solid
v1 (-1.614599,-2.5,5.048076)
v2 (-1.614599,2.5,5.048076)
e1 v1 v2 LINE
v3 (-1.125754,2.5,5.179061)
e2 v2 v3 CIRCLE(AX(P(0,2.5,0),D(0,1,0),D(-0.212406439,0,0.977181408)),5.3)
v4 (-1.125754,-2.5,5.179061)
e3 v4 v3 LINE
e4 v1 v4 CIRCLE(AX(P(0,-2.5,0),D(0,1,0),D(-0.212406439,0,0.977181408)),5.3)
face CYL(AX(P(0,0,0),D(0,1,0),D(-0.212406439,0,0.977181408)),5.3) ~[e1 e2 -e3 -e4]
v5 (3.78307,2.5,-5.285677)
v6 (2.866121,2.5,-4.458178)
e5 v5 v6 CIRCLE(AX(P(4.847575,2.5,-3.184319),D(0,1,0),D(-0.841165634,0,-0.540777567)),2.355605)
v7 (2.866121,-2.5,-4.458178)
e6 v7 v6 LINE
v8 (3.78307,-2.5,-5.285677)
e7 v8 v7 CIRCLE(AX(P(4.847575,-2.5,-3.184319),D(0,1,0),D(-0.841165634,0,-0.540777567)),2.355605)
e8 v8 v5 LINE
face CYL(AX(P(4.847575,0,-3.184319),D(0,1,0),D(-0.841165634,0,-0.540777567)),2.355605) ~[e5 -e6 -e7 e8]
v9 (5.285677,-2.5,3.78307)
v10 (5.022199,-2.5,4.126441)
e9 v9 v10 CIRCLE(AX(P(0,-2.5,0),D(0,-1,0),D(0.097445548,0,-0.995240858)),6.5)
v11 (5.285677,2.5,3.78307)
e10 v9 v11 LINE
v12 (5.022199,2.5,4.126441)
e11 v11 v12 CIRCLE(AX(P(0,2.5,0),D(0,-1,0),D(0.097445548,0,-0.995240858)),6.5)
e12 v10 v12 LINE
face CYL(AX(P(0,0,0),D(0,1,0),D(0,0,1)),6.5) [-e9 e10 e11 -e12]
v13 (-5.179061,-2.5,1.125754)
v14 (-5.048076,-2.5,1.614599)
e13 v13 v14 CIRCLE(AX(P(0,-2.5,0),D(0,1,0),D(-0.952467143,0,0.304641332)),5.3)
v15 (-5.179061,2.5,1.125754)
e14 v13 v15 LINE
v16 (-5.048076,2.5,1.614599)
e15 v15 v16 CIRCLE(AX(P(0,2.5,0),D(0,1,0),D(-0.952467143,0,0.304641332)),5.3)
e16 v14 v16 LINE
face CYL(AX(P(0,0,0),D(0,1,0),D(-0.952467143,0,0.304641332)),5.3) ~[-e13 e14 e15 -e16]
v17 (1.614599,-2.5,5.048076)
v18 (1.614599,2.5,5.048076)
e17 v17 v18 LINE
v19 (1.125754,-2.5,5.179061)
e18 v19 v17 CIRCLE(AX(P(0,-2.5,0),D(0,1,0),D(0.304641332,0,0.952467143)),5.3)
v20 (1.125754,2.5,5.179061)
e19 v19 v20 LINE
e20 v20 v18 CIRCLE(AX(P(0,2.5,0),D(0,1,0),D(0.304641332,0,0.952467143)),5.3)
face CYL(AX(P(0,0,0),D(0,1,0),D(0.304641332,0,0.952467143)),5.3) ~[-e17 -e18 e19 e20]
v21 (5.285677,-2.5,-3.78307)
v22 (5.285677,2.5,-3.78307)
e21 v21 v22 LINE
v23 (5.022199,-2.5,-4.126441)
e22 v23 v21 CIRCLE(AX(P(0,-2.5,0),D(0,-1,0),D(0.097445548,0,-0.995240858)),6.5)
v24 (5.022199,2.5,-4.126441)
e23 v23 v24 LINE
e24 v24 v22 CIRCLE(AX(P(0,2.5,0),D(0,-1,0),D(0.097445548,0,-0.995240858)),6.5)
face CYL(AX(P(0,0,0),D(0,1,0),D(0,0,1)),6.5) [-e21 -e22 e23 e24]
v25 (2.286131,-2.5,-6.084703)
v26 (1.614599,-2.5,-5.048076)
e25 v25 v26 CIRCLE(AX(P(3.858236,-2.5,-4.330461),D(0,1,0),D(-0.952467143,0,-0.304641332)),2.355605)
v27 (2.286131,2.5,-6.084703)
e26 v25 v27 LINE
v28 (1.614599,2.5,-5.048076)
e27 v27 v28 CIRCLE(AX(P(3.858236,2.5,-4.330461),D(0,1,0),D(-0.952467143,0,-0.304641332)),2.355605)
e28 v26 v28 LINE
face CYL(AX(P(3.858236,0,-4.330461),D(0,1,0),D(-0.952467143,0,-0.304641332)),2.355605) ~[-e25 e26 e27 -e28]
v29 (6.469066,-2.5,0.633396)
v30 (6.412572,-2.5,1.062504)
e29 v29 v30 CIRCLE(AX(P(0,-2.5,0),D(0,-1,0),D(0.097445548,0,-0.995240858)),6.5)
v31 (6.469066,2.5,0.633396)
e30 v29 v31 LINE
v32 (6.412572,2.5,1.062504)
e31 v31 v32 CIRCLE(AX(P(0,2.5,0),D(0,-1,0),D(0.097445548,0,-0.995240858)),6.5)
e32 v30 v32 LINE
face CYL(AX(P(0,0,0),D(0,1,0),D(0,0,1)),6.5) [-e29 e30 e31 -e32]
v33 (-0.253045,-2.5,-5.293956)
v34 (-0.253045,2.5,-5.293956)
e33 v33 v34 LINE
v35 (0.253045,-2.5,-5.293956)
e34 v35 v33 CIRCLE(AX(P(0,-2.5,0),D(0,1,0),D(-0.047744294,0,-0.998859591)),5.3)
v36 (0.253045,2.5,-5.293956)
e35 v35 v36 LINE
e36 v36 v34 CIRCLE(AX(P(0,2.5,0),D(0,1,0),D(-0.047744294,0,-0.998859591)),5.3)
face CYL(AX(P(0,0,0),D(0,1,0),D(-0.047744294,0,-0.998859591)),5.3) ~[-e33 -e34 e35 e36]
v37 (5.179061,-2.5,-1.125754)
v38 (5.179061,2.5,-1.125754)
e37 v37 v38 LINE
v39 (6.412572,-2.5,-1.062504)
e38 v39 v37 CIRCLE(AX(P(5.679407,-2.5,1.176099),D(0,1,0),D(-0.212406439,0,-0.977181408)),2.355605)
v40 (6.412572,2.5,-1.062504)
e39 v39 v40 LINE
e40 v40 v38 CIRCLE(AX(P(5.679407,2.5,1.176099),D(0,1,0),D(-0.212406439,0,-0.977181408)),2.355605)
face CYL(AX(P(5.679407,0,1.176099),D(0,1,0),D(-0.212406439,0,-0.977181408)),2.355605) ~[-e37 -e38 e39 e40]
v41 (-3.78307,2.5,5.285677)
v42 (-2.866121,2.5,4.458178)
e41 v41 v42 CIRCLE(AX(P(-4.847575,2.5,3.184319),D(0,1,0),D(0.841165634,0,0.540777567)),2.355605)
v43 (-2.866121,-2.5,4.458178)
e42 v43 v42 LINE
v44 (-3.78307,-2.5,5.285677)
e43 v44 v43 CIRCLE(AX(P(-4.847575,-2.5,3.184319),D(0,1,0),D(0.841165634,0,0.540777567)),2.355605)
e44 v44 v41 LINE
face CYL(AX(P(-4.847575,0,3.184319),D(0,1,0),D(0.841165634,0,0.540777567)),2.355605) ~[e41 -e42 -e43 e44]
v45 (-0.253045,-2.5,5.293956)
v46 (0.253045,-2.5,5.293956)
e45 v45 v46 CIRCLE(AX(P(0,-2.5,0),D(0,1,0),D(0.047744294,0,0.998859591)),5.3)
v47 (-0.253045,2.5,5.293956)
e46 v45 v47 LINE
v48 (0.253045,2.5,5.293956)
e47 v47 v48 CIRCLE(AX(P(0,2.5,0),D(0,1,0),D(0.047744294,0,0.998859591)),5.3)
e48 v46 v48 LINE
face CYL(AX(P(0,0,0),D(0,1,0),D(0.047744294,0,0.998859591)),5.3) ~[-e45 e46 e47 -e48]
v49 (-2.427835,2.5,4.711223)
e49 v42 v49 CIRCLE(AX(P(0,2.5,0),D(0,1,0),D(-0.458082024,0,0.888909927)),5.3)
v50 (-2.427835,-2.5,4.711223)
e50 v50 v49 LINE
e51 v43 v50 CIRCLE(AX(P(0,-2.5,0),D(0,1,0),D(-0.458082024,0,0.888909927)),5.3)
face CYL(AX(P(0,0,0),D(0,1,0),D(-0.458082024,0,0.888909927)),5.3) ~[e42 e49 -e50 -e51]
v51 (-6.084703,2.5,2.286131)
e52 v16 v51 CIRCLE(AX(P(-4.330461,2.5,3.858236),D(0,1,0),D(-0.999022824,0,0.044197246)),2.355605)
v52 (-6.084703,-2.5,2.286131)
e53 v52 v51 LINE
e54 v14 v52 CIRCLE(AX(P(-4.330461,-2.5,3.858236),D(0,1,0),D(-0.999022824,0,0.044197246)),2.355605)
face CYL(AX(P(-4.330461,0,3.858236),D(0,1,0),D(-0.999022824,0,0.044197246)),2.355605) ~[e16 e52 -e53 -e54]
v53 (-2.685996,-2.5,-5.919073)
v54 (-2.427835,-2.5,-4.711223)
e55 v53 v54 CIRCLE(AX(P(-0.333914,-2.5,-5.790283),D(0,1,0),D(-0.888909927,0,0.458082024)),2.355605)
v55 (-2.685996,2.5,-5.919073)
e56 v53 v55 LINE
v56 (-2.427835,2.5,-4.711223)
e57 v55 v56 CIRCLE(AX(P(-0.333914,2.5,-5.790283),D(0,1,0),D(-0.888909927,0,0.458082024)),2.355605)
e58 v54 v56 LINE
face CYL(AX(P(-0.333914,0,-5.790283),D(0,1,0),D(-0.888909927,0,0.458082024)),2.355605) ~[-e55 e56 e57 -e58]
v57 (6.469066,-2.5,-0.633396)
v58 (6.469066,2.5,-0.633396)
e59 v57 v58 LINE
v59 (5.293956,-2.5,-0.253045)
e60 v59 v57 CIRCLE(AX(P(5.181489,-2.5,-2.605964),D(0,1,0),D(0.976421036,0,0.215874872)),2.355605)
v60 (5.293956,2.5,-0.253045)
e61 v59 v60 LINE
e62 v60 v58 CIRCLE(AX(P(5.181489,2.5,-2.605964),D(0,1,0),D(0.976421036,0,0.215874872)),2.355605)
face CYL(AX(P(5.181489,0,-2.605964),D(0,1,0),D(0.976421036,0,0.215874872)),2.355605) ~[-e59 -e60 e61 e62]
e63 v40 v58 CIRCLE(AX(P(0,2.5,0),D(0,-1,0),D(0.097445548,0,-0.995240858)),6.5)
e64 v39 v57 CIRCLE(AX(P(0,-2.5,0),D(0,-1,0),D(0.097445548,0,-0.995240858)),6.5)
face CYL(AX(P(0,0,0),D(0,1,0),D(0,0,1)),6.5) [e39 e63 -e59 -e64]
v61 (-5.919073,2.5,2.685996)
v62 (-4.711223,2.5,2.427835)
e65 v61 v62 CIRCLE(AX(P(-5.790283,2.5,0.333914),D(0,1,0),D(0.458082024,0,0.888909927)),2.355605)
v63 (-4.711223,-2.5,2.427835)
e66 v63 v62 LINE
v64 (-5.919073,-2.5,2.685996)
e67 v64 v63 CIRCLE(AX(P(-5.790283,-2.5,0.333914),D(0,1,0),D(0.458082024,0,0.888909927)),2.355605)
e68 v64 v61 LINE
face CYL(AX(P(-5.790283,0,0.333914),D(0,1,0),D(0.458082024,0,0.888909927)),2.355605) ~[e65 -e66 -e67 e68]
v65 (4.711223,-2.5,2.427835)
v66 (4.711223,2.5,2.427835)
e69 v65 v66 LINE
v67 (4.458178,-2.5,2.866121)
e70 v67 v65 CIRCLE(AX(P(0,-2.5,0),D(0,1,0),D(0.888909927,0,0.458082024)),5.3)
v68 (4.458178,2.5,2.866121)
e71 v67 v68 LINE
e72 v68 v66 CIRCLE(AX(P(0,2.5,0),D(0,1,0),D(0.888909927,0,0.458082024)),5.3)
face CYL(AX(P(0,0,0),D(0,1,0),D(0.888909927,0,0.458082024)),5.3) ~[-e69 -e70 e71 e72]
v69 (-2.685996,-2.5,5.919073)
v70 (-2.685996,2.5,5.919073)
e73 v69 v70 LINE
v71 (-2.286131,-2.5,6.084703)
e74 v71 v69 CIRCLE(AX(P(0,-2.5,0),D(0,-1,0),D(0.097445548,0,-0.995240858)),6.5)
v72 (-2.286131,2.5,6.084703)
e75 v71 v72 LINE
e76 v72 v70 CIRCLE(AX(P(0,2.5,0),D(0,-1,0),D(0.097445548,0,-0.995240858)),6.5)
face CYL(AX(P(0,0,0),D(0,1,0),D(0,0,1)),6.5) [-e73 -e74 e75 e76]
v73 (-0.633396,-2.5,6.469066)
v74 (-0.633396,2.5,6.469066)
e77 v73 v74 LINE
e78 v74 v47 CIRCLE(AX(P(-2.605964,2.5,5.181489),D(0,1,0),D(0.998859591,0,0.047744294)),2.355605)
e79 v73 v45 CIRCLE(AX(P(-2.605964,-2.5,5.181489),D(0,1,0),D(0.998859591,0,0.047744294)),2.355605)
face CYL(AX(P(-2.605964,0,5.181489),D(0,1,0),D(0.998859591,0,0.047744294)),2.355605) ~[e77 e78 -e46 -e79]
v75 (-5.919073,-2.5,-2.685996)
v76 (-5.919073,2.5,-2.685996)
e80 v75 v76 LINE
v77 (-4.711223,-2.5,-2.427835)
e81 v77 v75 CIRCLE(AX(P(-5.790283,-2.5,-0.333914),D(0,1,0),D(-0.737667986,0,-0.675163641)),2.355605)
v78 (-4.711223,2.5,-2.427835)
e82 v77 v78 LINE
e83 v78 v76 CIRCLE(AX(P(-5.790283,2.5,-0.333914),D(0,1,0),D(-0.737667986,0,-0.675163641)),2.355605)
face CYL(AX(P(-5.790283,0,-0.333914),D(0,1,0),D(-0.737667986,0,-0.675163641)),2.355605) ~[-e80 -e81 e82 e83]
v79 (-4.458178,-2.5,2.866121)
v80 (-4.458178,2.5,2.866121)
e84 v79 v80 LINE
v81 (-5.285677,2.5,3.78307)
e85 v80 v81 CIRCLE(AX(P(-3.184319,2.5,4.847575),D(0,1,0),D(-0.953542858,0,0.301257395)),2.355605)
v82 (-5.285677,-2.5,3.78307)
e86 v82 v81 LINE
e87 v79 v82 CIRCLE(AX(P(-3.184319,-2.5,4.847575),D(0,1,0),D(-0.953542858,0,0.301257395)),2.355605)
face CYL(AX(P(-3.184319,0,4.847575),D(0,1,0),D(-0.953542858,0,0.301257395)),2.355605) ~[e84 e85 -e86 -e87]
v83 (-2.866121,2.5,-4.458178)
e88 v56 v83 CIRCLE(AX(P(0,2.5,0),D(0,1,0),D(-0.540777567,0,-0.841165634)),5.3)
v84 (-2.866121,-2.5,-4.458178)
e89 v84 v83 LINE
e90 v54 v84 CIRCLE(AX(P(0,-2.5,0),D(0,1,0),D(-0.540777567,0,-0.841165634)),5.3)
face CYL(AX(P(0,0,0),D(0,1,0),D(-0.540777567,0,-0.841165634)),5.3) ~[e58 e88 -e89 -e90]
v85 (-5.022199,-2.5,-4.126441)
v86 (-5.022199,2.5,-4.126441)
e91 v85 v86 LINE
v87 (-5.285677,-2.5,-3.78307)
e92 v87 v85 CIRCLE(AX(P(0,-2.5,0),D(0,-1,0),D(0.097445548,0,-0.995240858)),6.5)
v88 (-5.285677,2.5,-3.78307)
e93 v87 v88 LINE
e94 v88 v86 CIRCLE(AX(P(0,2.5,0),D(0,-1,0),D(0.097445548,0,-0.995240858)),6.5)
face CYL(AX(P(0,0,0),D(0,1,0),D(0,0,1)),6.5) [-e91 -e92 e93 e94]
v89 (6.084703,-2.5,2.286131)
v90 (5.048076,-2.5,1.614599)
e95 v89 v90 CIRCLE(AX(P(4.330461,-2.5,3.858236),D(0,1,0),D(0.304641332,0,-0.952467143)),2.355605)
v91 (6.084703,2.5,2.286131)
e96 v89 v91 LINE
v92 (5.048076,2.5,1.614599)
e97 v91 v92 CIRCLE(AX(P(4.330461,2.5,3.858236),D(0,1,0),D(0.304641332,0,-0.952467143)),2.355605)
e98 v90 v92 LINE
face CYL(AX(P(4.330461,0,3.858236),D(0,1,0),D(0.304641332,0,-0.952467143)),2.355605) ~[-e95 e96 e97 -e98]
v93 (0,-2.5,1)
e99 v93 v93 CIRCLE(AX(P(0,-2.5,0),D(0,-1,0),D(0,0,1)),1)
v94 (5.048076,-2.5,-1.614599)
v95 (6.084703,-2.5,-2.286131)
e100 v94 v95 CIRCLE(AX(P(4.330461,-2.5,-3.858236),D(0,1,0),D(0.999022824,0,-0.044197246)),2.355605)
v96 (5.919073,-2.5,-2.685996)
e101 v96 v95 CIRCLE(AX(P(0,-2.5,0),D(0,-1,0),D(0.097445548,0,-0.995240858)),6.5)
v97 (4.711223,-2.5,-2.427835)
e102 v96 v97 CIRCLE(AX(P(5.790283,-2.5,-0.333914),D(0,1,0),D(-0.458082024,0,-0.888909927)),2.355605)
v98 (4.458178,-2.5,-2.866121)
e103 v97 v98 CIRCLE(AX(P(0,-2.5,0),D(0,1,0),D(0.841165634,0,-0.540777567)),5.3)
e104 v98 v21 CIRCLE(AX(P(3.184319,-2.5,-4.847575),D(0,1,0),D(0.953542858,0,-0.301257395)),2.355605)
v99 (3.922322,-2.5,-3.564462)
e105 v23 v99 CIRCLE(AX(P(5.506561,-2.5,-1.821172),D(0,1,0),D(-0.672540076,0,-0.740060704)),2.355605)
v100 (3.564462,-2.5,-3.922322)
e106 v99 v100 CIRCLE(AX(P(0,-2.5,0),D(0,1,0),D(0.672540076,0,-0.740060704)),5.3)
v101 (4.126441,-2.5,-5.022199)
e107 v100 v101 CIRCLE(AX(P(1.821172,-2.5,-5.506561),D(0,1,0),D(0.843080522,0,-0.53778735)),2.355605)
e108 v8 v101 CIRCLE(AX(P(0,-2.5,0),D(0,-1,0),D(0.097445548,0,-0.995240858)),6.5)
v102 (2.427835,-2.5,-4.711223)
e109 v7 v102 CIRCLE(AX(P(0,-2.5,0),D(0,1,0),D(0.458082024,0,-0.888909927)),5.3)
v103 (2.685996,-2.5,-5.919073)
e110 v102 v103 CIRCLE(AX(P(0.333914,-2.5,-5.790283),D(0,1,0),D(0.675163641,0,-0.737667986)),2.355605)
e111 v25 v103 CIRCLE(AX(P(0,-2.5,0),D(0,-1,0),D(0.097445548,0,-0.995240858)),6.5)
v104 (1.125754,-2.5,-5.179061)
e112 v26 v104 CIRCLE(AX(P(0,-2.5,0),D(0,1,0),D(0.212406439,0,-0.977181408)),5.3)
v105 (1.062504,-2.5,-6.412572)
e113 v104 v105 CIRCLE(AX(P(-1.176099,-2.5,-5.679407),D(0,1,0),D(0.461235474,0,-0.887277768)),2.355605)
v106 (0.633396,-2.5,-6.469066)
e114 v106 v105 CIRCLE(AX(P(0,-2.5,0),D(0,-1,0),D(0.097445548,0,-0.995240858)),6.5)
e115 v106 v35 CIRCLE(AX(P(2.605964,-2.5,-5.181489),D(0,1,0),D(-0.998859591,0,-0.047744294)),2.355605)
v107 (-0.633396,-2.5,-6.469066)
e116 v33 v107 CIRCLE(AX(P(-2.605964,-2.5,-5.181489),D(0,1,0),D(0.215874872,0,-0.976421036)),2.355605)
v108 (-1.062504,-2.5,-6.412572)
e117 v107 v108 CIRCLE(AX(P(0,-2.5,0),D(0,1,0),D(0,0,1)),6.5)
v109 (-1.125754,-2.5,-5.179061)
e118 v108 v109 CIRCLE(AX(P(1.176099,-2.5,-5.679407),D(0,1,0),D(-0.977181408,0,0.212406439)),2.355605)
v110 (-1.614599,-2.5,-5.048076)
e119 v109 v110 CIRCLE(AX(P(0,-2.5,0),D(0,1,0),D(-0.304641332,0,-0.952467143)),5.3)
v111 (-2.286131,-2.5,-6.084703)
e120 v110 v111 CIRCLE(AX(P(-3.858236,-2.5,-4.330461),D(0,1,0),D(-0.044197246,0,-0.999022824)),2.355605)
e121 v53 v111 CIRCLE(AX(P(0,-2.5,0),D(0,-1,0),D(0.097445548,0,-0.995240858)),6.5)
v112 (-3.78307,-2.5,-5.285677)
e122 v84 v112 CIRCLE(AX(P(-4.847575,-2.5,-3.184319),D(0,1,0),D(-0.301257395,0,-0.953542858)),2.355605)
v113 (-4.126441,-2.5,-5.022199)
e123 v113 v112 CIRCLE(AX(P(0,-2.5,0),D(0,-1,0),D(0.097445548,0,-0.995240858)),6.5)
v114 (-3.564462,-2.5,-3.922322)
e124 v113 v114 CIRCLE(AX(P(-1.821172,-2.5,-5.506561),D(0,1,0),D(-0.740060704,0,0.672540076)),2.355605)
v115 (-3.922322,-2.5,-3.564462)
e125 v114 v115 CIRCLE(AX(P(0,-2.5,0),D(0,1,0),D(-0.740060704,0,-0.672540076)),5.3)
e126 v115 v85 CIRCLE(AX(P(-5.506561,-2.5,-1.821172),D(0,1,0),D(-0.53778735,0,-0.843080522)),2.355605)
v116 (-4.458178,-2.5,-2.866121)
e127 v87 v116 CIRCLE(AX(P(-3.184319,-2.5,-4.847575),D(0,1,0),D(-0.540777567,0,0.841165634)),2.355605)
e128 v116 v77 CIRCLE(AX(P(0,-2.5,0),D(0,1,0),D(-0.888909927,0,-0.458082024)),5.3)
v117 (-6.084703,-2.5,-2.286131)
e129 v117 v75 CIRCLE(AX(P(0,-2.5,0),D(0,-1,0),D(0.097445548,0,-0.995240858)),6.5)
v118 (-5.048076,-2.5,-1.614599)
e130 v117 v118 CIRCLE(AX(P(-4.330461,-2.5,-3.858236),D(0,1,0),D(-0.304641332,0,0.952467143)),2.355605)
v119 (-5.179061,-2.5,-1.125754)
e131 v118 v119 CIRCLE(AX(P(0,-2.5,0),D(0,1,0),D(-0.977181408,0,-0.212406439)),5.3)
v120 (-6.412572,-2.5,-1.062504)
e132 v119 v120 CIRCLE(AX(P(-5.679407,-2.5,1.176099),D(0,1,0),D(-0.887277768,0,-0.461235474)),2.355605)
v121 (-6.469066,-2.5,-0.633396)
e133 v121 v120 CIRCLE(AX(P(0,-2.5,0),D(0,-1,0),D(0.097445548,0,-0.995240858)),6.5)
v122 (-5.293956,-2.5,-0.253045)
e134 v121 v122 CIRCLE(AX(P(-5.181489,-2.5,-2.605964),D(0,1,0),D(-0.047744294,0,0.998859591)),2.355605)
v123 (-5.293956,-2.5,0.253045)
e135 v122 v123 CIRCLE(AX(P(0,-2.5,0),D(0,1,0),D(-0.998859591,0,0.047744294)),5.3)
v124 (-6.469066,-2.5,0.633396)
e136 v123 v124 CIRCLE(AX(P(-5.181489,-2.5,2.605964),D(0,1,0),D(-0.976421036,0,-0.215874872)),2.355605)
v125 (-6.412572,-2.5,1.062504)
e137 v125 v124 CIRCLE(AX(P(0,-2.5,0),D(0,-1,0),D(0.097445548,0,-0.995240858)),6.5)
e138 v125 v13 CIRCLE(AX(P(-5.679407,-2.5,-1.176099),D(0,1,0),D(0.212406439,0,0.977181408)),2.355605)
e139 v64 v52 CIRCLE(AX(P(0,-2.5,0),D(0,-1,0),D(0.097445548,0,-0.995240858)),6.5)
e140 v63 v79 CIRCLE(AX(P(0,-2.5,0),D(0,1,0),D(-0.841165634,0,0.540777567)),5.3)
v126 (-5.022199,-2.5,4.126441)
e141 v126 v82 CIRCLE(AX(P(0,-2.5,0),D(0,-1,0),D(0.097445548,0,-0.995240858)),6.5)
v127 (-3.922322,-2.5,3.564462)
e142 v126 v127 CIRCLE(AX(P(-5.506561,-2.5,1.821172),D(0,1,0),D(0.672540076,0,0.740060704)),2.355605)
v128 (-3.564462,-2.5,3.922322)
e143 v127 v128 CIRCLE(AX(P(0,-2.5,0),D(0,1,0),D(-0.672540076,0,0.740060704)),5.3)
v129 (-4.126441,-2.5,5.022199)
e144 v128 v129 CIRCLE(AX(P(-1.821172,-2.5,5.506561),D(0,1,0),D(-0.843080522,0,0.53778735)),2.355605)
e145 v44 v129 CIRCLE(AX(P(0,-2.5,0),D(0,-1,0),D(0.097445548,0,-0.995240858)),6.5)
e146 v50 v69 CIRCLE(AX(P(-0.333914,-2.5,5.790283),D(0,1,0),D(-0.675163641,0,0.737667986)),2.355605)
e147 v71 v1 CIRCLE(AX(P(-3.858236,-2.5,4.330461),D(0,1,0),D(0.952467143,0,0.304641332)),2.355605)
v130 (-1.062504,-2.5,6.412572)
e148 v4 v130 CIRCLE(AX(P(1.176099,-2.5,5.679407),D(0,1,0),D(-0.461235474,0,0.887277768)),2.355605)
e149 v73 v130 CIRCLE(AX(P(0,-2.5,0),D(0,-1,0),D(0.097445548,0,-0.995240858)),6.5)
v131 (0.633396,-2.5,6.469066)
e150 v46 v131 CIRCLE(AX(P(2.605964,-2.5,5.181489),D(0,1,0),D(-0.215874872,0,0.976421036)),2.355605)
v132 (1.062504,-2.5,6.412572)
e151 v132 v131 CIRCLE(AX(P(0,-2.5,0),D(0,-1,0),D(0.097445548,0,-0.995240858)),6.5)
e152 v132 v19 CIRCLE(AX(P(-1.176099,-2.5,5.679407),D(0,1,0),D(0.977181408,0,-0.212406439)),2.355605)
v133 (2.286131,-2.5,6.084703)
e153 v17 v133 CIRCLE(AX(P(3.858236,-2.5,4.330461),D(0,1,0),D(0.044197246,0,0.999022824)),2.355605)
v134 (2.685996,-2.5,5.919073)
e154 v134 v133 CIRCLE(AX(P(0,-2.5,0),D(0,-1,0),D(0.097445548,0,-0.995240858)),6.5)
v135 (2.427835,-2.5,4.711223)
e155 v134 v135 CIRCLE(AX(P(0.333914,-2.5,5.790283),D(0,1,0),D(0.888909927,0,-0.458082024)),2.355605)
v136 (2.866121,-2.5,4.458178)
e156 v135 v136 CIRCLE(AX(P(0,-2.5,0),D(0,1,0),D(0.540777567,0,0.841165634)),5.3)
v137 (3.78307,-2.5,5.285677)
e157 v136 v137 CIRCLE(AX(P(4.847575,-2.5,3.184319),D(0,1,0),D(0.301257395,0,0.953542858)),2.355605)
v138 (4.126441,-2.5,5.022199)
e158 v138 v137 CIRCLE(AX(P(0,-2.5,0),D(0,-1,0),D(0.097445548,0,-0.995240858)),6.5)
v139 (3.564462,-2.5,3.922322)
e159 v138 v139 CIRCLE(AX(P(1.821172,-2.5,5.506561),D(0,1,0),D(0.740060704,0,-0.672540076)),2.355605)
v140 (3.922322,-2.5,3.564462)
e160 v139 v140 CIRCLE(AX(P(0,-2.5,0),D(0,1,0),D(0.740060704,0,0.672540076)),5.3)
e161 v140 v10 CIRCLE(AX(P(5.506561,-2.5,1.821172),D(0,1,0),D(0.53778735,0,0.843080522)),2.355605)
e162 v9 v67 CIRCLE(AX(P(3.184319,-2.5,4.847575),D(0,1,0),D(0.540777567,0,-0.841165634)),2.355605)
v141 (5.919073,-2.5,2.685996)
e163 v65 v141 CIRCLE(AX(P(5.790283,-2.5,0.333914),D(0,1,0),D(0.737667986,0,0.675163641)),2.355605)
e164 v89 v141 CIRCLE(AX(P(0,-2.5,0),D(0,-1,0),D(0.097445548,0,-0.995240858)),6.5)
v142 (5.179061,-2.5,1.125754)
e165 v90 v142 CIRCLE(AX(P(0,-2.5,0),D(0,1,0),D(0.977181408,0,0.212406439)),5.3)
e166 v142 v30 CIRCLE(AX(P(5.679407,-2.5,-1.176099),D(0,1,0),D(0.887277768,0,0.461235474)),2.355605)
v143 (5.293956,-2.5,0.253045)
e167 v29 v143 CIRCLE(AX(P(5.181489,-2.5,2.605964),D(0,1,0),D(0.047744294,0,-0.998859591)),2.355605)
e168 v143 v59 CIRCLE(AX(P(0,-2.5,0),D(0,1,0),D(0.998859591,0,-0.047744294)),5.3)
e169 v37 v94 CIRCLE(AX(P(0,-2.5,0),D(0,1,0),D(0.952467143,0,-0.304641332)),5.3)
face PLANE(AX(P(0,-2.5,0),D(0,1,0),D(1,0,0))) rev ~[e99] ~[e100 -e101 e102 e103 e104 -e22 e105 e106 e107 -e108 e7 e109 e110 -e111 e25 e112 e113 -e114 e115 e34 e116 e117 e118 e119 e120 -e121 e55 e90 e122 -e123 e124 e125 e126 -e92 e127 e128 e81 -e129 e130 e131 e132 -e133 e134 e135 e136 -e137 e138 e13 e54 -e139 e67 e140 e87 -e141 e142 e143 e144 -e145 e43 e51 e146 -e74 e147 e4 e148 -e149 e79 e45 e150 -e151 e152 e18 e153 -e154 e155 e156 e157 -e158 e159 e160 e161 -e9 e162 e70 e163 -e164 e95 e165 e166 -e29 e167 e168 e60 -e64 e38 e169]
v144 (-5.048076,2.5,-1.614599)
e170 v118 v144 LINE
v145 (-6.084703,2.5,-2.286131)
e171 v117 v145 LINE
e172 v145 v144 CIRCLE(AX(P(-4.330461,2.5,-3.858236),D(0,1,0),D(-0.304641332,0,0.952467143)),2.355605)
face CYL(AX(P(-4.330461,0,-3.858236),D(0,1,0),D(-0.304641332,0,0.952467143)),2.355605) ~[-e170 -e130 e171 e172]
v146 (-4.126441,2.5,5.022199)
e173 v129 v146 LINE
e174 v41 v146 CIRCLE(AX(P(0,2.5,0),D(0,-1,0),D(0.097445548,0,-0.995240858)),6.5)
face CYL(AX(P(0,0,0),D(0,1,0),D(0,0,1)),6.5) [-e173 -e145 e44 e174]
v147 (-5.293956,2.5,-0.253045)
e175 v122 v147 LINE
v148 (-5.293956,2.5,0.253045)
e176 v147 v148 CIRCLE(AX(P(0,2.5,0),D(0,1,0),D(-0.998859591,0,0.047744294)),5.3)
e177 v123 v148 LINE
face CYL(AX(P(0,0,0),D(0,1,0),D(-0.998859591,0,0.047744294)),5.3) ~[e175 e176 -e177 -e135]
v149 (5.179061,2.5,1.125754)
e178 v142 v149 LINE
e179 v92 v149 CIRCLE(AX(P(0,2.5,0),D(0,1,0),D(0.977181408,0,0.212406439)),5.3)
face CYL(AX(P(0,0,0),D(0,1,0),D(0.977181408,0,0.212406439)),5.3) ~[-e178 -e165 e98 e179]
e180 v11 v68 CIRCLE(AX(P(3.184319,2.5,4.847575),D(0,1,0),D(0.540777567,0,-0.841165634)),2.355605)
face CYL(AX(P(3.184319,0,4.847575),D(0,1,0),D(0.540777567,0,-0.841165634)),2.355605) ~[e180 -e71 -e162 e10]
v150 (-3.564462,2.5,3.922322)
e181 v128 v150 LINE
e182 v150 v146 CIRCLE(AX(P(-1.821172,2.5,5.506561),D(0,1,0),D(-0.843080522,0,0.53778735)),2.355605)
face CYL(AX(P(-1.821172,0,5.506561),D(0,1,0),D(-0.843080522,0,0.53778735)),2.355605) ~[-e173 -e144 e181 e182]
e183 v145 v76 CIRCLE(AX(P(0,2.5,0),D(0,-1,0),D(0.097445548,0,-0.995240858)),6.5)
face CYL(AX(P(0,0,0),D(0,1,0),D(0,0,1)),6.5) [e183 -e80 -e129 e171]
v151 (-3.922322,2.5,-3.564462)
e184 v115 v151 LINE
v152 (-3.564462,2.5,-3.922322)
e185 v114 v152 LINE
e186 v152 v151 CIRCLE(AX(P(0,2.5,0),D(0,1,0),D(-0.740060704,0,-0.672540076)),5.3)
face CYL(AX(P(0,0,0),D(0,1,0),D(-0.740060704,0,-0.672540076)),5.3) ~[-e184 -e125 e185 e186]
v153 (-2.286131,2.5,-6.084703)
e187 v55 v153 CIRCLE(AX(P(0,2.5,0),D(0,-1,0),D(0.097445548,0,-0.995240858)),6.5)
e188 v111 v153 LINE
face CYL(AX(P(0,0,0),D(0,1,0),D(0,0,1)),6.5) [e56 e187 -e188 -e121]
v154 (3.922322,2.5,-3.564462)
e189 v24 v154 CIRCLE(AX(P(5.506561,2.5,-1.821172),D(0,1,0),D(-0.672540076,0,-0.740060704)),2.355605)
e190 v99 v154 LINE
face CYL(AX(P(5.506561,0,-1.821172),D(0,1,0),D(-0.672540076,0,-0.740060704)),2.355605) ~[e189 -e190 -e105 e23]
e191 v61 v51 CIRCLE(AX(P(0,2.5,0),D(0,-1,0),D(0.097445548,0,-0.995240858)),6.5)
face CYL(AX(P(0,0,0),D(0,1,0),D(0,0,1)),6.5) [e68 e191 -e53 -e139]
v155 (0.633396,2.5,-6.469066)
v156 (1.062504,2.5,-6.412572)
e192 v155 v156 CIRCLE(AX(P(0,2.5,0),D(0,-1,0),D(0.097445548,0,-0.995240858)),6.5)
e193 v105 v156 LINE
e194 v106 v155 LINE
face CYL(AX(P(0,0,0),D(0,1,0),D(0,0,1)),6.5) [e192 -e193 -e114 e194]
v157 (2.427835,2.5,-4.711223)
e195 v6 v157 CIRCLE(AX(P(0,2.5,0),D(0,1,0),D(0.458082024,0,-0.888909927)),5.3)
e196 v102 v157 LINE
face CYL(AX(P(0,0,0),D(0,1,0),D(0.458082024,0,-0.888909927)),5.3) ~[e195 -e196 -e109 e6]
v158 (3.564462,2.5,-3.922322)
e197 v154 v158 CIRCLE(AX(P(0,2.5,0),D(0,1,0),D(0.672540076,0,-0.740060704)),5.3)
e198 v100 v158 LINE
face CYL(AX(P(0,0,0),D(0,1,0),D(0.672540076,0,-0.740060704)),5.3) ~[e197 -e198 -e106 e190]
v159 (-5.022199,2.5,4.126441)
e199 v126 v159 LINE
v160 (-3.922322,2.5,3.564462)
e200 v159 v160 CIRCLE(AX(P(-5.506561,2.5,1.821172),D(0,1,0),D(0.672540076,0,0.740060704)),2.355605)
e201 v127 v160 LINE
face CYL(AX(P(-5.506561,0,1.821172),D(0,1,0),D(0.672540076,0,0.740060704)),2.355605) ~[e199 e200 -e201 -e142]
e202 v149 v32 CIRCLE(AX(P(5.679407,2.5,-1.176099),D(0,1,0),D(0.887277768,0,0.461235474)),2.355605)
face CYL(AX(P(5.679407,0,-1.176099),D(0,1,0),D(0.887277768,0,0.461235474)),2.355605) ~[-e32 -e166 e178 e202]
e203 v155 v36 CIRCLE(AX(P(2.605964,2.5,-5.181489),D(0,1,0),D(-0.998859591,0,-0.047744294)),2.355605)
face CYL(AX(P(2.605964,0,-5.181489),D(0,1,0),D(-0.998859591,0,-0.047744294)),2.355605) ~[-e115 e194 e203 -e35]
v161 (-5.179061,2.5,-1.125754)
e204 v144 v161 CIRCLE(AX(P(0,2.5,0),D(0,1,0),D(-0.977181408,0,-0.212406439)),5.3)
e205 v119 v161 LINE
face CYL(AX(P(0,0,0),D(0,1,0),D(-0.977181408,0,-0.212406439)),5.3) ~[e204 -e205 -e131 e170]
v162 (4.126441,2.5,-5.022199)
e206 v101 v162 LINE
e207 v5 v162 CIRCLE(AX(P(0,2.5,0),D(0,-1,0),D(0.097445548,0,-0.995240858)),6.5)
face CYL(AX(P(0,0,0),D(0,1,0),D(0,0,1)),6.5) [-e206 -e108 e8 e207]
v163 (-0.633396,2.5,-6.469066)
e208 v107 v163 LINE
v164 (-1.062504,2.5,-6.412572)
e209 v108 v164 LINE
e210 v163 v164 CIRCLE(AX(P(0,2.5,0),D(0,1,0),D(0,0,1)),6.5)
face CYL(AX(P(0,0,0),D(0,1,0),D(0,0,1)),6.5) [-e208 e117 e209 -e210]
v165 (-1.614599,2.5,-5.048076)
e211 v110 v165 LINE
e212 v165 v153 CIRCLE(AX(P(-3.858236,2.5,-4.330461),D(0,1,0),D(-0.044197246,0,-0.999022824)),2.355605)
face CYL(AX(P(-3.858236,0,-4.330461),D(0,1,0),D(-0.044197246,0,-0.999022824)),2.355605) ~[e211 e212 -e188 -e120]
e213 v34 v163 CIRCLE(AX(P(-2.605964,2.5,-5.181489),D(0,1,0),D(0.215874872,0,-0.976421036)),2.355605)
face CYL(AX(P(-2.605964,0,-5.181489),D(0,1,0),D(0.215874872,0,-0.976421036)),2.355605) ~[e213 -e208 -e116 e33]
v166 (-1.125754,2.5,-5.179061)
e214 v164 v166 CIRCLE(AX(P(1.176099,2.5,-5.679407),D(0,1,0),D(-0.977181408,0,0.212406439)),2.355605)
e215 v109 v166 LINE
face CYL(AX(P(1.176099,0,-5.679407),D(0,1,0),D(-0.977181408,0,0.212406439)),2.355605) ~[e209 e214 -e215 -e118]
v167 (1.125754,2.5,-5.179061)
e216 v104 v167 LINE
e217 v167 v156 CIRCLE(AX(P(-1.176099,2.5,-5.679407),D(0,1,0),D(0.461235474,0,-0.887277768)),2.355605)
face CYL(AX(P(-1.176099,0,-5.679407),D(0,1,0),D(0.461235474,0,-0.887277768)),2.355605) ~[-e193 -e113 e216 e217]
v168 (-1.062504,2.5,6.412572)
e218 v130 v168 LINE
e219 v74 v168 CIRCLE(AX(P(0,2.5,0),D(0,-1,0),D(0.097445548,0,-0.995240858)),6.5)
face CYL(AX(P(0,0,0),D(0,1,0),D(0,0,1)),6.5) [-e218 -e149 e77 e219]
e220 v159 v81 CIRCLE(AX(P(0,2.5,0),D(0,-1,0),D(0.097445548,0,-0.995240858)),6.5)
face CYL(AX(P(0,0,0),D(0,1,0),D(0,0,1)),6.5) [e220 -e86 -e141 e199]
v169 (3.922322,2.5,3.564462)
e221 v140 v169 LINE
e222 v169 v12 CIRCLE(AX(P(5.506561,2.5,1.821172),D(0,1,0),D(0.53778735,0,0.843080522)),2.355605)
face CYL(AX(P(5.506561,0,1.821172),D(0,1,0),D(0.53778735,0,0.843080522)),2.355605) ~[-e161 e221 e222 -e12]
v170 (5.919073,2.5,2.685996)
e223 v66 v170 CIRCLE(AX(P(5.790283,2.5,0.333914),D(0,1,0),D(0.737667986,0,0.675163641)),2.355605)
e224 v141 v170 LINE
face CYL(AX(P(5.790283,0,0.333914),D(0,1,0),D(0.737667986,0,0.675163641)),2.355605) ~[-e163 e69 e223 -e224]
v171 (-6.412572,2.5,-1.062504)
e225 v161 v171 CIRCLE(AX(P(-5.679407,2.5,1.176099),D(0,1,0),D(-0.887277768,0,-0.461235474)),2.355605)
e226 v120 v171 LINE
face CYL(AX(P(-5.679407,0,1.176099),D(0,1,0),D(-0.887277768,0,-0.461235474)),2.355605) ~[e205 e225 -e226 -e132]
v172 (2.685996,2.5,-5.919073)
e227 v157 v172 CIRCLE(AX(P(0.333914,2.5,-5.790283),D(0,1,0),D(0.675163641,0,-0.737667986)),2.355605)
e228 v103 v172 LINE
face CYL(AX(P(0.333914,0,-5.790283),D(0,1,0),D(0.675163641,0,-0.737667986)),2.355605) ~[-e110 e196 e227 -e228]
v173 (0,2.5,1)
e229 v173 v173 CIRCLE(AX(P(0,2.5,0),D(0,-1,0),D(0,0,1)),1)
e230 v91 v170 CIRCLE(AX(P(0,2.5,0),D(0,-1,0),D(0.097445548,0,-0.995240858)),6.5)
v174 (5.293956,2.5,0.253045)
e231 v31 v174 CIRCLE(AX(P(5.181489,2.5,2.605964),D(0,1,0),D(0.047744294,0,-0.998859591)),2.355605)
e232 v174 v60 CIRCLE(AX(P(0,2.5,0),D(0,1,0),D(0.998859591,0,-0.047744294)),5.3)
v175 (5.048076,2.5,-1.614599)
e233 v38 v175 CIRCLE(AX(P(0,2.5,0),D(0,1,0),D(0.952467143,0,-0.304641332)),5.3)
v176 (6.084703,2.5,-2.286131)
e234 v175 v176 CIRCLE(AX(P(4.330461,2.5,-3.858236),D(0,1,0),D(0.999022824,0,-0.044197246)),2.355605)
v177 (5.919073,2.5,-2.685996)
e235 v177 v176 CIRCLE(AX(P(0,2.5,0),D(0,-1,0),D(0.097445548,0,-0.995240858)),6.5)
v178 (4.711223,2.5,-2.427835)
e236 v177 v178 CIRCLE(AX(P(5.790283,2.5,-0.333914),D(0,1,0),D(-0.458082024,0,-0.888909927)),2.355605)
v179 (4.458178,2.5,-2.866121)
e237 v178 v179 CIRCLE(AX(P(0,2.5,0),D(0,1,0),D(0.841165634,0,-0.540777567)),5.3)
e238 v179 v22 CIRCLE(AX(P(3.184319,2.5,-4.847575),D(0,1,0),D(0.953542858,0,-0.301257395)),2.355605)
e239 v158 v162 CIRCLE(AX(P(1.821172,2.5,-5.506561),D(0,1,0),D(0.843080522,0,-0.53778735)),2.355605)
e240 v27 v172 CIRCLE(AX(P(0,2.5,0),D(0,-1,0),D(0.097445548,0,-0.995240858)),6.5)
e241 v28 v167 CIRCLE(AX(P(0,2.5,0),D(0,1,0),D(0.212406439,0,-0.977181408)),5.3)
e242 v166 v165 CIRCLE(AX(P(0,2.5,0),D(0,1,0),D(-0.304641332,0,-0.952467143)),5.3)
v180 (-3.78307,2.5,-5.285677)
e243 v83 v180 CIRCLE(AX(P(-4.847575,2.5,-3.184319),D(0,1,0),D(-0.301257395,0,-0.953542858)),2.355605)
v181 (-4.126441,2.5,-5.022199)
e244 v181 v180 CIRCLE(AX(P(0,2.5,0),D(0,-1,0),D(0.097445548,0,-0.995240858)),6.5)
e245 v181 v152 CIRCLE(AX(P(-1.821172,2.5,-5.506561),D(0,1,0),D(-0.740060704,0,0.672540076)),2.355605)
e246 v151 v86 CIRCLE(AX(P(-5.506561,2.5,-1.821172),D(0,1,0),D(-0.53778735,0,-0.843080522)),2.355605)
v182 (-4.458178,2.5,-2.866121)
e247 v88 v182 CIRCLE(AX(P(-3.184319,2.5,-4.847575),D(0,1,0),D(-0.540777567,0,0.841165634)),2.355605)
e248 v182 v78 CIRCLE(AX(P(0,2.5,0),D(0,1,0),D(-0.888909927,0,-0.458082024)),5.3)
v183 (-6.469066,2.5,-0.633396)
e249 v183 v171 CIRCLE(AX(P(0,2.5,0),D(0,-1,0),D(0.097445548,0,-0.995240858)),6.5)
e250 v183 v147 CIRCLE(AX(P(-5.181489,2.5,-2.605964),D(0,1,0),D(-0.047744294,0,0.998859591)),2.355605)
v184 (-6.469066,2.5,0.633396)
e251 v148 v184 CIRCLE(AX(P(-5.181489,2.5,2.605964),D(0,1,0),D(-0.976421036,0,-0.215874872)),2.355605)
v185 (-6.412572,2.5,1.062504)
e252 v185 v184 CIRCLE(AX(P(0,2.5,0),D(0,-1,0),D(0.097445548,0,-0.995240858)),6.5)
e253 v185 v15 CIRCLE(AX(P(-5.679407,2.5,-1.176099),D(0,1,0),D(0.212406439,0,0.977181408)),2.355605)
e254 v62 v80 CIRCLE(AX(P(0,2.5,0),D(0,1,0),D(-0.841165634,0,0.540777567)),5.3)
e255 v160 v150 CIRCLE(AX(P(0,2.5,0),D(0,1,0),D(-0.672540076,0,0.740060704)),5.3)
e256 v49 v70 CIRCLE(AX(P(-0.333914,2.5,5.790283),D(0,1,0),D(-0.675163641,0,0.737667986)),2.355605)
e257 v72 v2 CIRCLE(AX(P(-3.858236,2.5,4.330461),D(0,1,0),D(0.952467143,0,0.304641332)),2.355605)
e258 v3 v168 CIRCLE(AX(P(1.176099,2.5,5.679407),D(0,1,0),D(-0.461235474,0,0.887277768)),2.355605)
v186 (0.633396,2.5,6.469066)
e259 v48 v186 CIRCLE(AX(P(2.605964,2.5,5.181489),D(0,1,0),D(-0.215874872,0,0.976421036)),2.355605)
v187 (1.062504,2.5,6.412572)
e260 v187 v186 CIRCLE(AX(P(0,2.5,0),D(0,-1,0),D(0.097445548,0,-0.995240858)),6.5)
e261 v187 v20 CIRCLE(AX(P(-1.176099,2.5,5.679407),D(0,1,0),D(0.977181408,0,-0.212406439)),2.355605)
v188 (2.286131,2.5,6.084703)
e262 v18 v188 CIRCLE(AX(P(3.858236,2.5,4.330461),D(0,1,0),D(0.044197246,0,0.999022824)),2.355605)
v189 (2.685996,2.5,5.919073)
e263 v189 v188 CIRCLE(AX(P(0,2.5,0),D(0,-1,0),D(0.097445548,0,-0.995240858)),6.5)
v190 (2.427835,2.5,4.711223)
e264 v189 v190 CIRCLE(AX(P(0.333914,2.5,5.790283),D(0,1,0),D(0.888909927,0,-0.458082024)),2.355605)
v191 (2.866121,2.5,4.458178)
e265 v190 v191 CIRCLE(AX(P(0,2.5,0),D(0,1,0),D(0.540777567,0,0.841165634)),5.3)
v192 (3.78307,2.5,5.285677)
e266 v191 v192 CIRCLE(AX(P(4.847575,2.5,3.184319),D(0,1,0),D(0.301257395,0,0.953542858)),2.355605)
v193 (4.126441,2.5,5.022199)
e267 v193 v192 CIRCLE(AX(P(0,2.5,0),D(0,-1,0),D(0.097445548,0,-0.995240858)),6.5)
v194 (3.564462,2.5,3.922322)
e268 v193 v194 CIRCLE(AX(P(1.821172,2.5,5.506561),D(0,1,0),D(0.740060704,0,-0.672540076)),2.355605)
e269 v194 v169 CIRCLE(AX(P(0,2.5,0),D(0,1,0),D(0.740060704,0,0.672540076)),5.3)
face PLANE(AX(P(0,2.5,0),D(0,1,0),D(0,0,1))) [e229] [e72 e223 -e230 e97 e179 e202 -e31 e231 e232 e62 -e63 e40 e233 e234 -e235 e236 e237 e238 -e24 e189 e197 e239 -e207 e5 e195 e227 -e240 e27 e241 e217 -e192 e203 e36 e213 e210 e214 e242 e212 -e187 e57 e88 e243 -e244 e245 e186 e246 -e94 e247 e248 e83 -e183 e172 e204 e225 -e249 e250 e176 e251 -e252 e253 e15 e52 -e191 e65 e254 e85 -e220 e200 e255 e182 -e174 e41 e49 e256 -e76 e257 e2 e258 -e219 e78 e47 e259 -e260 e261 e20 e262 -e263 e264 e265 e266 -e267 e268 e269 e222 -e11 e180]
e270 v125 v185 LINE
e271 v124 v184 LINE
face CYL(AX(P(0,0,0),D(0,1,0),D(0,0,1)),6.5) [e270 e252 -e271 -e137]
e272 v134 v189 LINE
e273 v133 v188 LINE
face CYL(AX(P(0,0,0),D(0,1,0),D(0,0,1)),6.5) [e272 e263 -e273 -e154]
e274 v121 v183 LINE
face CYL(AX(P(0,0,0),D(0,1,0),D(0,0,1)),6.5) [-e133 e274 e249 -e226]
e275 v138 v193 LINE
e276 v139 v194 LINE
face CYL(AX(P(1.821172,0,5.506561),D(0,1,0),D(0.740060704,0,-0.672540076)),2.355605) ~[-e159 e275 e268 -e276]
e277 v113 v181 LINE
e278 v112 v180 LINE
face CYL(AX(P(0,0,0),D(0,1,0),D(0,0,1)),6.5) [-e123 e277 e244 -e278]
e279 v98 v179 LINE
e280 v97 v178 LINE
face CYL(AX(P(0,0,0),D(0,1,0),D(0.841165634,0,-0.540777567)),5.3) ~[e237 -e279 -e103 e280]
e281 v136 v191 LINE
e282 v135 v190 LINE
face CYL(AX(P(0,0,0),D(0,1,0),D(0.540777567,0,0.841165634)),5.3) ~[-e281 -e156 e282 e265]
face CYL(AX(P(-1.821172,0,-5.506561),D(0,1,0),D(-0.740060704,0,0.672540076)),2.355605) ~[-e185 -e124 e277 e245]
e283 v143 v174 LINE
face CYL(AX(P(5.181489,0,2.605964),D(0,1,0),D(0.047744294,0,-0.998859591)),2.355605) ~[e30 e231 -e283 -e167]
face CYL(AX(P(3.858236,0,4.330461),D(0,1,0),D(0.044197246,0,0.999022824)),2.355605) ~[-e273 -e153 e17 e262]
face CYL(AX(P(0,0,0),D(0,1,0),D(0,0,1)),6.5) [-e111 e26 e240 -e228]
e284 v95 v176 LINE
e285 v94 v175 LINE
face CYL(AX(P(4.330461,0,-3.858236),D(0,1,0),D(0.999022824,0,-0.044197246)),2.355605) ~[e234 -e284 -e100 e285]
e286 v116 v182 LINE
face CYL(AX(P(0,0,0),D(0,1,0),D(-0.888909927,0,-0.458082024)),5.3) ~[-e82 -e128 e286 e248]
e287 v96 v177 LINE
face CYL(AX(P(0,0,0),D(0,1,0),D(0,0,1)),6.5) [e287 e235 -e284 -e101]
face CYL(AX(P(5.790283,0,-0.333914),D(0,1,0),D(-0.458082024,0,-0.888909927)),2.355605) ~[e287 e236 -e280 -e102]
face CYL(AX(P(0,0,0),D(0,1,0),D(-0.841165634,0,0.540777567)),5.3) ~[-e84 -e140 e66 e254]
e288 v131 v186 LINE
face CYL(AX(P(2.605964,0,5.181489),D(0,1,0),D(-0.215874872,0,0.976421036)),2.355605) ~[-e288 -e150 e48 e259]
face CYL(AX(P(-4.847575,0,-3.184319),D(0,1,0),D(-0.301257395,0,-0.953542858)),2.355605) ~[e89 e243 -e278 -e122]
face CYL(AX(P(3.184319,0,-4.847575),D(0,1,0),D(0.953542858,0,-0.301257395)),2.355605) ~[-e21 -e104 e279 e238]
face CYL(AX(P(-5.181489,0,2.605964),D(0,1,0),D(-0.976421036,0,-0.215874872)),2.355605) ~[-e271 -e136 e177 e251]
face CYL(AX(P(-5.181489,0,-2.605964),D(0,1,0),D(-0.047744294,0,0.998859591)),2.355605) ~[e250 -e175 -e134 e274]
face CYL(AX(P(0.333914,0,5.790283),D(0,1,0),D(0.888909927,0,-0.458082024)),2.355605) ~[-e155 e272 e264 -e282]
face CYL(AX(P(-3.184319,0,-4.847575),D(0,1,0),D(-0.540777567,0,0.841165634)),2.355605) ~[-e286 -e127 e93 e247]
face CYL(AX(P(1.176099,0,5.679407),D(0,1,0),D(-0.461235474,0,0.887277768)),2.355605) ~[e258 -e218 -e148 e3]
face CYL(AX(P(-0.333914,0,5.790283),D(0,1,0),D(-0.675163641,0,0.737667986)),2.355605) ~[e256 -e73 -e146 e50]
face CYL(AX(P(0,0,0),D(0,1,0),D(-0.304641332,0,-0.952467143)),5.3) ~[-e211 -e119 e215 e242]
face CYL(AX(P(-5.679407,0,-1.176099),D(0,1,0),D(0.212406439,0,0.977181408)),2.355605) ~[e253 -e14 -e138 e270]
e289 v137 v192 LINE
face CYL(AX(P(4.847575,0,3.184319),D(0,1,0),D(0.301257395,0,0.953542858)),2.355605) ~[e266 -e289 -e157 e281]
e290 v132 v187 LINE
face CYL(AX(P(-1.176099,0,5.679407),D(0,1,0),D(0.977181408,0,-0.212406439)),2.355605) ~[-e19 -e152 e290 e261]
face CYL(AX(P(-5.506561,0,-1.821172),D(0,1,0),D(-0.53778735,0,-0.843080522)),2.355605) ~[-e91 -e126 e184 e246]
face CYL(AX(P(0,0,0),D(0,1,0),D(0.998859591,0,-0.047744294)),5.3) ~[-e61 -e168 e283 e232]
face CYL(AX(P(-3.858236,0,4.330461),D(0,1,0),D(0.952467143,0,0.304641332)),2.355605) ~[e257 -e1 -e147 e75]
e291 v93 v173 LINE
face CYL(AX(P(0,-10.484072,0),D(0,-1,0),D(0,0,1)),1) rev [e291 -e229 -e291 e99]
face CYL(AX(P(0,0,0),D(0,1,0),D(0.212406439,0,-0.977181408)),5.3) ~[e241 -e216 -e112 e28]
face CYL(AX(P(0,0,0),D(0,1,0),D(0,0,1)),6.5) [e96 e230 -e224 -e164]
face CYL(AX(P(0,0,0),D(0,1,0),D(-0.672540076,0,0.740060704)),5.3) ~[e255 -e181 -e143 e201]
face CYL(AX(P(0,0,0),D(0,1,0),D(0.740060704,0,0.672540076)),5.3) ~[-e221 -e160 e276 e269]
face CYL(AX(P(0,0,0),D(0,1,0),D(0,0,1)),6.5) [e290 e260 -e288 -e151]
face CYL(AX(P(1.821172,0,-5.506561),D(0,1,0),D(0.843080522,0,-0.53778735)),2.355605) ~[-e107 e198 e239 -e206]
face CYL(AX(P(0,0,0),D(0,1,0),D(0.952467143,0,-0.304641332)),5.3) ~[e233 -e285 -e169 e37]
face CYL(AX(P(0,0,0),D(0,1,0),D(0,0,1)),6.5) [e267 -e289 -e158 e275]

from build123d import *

# Parameters (mm, degrees)
SKETCH1_R               = 6.5
SKETCH1_R_2             = 6
SKETCH1_R_3             = 5.3
BOSS_EXTRUDE1_DEPTH     = 2.5
CUT_EXTRUDE1_DEPTH      = 10.526279442
CIRPATTERN1_COUNT       = 24
CUT_EXTRUDE2_DEPTH      = 10.48407185
CUT_EXTRUDE2_DEPTH_BACK = 10.48407185
SKETCH4_R               = 1


with BuildPart() as part:
    # Sketch1 → Boss-Extrude1 (new, symmetric)
    # profile 1 of 3: a face of its own
    with BuildSketch(Plane(origin=(0, 0, 0), x_dir=(1, 0, 0), z_dir=(0, 1, 0))):
        with Locations(Location((0, 0, 0), (0, 0, 270))):
            Circle(SKETCH1_R)
        Circle(SKETCH1_R_2, mode=Mode.SUBTRACT)
    # profile 2 of 3: a face of its own
    with BuildSketch(Plane(origin=(0, 0, 0), x_dir=(1, 0, 0), z_dir=(0, 1, 0))):
        Circle(SKETCH1_R_2)
        Circle(SKETCH1_R_3, mode=Mode.SUBTRACT)
    # profile 3 of 3: a face of its own
    with BuildSketch(Plane(origin=(0, 0, 0), x_dir=(1, 0, 0), z_dir=(0, 1, 0))):
        Circle(SKETCH1_R_3)
    extrude(amount=BOSS_EXTRUDE1_DEPTH, both=True)

    # Sketch3 → Cut-Extrude1 (cut, symmetric)
    with BuildSketch(Plane(origin=(0, 0, 0), x_dir=(1, 0, 0), z_dir=(0, 1, 0))):
        with BuildLine():
            ThreePointArc((-2.097447593, 7.48155155), (-0.805034356, 6.699886195), (-0.253044756, 5.293955832))
            ThreePointArc((-0.253044756, 5.293955832), (0, 5.3), (0.253044756, 5.293955832))
            ThreePointArc((0.253044756, 5.293955832), (0.805034356, 6.699886195), (2.097447593, 7.48155155))
            ThreePointArc((2.097447593, 7.48155155), (0, 7.77), (-2.097447593, 7.48155155))
        make_face()
    cut_extrude1 = extrude(amount=CUT_EXTRUDE1_DEPTH, both=True, mode=Mode.SUBTRACT)

    # CirPattern1: Cut-Extrude1 ×24 about axis
    cirpattern1_axis = Axis((0, 0, 0), (0, 1, 0))
    for i in range(1, CIRPATTERN1_COUNT):
        add(cut_extrude1.rotate(cirpattern1_axis, i * 360 / CIRPATTERN1_COUNT), mode=Mode.SUBTRACT)

    # Sketch4 → Cut-Extrude2 (cut, two sides: drawn at the far end of the back side and taken through both)
    with BuildSketch(Plane(origin=(0, 0, 0), x_dir=(1, 0, 0), z_dir=(0, 1, 0)).offset(-CUT_EXTRUDE2_DEPTH_BACK)):
        with Locations(Location((0, 0, 0), (0, 0, 270))):
            Circle(SKETCH4_R)
    extrude(amount=CUT_EXTRUDE2_DEPTH + CUT_EXTRUDE2_DEPTH_BACK, mode=Mode.SUBTRACT)


solid = part.part
